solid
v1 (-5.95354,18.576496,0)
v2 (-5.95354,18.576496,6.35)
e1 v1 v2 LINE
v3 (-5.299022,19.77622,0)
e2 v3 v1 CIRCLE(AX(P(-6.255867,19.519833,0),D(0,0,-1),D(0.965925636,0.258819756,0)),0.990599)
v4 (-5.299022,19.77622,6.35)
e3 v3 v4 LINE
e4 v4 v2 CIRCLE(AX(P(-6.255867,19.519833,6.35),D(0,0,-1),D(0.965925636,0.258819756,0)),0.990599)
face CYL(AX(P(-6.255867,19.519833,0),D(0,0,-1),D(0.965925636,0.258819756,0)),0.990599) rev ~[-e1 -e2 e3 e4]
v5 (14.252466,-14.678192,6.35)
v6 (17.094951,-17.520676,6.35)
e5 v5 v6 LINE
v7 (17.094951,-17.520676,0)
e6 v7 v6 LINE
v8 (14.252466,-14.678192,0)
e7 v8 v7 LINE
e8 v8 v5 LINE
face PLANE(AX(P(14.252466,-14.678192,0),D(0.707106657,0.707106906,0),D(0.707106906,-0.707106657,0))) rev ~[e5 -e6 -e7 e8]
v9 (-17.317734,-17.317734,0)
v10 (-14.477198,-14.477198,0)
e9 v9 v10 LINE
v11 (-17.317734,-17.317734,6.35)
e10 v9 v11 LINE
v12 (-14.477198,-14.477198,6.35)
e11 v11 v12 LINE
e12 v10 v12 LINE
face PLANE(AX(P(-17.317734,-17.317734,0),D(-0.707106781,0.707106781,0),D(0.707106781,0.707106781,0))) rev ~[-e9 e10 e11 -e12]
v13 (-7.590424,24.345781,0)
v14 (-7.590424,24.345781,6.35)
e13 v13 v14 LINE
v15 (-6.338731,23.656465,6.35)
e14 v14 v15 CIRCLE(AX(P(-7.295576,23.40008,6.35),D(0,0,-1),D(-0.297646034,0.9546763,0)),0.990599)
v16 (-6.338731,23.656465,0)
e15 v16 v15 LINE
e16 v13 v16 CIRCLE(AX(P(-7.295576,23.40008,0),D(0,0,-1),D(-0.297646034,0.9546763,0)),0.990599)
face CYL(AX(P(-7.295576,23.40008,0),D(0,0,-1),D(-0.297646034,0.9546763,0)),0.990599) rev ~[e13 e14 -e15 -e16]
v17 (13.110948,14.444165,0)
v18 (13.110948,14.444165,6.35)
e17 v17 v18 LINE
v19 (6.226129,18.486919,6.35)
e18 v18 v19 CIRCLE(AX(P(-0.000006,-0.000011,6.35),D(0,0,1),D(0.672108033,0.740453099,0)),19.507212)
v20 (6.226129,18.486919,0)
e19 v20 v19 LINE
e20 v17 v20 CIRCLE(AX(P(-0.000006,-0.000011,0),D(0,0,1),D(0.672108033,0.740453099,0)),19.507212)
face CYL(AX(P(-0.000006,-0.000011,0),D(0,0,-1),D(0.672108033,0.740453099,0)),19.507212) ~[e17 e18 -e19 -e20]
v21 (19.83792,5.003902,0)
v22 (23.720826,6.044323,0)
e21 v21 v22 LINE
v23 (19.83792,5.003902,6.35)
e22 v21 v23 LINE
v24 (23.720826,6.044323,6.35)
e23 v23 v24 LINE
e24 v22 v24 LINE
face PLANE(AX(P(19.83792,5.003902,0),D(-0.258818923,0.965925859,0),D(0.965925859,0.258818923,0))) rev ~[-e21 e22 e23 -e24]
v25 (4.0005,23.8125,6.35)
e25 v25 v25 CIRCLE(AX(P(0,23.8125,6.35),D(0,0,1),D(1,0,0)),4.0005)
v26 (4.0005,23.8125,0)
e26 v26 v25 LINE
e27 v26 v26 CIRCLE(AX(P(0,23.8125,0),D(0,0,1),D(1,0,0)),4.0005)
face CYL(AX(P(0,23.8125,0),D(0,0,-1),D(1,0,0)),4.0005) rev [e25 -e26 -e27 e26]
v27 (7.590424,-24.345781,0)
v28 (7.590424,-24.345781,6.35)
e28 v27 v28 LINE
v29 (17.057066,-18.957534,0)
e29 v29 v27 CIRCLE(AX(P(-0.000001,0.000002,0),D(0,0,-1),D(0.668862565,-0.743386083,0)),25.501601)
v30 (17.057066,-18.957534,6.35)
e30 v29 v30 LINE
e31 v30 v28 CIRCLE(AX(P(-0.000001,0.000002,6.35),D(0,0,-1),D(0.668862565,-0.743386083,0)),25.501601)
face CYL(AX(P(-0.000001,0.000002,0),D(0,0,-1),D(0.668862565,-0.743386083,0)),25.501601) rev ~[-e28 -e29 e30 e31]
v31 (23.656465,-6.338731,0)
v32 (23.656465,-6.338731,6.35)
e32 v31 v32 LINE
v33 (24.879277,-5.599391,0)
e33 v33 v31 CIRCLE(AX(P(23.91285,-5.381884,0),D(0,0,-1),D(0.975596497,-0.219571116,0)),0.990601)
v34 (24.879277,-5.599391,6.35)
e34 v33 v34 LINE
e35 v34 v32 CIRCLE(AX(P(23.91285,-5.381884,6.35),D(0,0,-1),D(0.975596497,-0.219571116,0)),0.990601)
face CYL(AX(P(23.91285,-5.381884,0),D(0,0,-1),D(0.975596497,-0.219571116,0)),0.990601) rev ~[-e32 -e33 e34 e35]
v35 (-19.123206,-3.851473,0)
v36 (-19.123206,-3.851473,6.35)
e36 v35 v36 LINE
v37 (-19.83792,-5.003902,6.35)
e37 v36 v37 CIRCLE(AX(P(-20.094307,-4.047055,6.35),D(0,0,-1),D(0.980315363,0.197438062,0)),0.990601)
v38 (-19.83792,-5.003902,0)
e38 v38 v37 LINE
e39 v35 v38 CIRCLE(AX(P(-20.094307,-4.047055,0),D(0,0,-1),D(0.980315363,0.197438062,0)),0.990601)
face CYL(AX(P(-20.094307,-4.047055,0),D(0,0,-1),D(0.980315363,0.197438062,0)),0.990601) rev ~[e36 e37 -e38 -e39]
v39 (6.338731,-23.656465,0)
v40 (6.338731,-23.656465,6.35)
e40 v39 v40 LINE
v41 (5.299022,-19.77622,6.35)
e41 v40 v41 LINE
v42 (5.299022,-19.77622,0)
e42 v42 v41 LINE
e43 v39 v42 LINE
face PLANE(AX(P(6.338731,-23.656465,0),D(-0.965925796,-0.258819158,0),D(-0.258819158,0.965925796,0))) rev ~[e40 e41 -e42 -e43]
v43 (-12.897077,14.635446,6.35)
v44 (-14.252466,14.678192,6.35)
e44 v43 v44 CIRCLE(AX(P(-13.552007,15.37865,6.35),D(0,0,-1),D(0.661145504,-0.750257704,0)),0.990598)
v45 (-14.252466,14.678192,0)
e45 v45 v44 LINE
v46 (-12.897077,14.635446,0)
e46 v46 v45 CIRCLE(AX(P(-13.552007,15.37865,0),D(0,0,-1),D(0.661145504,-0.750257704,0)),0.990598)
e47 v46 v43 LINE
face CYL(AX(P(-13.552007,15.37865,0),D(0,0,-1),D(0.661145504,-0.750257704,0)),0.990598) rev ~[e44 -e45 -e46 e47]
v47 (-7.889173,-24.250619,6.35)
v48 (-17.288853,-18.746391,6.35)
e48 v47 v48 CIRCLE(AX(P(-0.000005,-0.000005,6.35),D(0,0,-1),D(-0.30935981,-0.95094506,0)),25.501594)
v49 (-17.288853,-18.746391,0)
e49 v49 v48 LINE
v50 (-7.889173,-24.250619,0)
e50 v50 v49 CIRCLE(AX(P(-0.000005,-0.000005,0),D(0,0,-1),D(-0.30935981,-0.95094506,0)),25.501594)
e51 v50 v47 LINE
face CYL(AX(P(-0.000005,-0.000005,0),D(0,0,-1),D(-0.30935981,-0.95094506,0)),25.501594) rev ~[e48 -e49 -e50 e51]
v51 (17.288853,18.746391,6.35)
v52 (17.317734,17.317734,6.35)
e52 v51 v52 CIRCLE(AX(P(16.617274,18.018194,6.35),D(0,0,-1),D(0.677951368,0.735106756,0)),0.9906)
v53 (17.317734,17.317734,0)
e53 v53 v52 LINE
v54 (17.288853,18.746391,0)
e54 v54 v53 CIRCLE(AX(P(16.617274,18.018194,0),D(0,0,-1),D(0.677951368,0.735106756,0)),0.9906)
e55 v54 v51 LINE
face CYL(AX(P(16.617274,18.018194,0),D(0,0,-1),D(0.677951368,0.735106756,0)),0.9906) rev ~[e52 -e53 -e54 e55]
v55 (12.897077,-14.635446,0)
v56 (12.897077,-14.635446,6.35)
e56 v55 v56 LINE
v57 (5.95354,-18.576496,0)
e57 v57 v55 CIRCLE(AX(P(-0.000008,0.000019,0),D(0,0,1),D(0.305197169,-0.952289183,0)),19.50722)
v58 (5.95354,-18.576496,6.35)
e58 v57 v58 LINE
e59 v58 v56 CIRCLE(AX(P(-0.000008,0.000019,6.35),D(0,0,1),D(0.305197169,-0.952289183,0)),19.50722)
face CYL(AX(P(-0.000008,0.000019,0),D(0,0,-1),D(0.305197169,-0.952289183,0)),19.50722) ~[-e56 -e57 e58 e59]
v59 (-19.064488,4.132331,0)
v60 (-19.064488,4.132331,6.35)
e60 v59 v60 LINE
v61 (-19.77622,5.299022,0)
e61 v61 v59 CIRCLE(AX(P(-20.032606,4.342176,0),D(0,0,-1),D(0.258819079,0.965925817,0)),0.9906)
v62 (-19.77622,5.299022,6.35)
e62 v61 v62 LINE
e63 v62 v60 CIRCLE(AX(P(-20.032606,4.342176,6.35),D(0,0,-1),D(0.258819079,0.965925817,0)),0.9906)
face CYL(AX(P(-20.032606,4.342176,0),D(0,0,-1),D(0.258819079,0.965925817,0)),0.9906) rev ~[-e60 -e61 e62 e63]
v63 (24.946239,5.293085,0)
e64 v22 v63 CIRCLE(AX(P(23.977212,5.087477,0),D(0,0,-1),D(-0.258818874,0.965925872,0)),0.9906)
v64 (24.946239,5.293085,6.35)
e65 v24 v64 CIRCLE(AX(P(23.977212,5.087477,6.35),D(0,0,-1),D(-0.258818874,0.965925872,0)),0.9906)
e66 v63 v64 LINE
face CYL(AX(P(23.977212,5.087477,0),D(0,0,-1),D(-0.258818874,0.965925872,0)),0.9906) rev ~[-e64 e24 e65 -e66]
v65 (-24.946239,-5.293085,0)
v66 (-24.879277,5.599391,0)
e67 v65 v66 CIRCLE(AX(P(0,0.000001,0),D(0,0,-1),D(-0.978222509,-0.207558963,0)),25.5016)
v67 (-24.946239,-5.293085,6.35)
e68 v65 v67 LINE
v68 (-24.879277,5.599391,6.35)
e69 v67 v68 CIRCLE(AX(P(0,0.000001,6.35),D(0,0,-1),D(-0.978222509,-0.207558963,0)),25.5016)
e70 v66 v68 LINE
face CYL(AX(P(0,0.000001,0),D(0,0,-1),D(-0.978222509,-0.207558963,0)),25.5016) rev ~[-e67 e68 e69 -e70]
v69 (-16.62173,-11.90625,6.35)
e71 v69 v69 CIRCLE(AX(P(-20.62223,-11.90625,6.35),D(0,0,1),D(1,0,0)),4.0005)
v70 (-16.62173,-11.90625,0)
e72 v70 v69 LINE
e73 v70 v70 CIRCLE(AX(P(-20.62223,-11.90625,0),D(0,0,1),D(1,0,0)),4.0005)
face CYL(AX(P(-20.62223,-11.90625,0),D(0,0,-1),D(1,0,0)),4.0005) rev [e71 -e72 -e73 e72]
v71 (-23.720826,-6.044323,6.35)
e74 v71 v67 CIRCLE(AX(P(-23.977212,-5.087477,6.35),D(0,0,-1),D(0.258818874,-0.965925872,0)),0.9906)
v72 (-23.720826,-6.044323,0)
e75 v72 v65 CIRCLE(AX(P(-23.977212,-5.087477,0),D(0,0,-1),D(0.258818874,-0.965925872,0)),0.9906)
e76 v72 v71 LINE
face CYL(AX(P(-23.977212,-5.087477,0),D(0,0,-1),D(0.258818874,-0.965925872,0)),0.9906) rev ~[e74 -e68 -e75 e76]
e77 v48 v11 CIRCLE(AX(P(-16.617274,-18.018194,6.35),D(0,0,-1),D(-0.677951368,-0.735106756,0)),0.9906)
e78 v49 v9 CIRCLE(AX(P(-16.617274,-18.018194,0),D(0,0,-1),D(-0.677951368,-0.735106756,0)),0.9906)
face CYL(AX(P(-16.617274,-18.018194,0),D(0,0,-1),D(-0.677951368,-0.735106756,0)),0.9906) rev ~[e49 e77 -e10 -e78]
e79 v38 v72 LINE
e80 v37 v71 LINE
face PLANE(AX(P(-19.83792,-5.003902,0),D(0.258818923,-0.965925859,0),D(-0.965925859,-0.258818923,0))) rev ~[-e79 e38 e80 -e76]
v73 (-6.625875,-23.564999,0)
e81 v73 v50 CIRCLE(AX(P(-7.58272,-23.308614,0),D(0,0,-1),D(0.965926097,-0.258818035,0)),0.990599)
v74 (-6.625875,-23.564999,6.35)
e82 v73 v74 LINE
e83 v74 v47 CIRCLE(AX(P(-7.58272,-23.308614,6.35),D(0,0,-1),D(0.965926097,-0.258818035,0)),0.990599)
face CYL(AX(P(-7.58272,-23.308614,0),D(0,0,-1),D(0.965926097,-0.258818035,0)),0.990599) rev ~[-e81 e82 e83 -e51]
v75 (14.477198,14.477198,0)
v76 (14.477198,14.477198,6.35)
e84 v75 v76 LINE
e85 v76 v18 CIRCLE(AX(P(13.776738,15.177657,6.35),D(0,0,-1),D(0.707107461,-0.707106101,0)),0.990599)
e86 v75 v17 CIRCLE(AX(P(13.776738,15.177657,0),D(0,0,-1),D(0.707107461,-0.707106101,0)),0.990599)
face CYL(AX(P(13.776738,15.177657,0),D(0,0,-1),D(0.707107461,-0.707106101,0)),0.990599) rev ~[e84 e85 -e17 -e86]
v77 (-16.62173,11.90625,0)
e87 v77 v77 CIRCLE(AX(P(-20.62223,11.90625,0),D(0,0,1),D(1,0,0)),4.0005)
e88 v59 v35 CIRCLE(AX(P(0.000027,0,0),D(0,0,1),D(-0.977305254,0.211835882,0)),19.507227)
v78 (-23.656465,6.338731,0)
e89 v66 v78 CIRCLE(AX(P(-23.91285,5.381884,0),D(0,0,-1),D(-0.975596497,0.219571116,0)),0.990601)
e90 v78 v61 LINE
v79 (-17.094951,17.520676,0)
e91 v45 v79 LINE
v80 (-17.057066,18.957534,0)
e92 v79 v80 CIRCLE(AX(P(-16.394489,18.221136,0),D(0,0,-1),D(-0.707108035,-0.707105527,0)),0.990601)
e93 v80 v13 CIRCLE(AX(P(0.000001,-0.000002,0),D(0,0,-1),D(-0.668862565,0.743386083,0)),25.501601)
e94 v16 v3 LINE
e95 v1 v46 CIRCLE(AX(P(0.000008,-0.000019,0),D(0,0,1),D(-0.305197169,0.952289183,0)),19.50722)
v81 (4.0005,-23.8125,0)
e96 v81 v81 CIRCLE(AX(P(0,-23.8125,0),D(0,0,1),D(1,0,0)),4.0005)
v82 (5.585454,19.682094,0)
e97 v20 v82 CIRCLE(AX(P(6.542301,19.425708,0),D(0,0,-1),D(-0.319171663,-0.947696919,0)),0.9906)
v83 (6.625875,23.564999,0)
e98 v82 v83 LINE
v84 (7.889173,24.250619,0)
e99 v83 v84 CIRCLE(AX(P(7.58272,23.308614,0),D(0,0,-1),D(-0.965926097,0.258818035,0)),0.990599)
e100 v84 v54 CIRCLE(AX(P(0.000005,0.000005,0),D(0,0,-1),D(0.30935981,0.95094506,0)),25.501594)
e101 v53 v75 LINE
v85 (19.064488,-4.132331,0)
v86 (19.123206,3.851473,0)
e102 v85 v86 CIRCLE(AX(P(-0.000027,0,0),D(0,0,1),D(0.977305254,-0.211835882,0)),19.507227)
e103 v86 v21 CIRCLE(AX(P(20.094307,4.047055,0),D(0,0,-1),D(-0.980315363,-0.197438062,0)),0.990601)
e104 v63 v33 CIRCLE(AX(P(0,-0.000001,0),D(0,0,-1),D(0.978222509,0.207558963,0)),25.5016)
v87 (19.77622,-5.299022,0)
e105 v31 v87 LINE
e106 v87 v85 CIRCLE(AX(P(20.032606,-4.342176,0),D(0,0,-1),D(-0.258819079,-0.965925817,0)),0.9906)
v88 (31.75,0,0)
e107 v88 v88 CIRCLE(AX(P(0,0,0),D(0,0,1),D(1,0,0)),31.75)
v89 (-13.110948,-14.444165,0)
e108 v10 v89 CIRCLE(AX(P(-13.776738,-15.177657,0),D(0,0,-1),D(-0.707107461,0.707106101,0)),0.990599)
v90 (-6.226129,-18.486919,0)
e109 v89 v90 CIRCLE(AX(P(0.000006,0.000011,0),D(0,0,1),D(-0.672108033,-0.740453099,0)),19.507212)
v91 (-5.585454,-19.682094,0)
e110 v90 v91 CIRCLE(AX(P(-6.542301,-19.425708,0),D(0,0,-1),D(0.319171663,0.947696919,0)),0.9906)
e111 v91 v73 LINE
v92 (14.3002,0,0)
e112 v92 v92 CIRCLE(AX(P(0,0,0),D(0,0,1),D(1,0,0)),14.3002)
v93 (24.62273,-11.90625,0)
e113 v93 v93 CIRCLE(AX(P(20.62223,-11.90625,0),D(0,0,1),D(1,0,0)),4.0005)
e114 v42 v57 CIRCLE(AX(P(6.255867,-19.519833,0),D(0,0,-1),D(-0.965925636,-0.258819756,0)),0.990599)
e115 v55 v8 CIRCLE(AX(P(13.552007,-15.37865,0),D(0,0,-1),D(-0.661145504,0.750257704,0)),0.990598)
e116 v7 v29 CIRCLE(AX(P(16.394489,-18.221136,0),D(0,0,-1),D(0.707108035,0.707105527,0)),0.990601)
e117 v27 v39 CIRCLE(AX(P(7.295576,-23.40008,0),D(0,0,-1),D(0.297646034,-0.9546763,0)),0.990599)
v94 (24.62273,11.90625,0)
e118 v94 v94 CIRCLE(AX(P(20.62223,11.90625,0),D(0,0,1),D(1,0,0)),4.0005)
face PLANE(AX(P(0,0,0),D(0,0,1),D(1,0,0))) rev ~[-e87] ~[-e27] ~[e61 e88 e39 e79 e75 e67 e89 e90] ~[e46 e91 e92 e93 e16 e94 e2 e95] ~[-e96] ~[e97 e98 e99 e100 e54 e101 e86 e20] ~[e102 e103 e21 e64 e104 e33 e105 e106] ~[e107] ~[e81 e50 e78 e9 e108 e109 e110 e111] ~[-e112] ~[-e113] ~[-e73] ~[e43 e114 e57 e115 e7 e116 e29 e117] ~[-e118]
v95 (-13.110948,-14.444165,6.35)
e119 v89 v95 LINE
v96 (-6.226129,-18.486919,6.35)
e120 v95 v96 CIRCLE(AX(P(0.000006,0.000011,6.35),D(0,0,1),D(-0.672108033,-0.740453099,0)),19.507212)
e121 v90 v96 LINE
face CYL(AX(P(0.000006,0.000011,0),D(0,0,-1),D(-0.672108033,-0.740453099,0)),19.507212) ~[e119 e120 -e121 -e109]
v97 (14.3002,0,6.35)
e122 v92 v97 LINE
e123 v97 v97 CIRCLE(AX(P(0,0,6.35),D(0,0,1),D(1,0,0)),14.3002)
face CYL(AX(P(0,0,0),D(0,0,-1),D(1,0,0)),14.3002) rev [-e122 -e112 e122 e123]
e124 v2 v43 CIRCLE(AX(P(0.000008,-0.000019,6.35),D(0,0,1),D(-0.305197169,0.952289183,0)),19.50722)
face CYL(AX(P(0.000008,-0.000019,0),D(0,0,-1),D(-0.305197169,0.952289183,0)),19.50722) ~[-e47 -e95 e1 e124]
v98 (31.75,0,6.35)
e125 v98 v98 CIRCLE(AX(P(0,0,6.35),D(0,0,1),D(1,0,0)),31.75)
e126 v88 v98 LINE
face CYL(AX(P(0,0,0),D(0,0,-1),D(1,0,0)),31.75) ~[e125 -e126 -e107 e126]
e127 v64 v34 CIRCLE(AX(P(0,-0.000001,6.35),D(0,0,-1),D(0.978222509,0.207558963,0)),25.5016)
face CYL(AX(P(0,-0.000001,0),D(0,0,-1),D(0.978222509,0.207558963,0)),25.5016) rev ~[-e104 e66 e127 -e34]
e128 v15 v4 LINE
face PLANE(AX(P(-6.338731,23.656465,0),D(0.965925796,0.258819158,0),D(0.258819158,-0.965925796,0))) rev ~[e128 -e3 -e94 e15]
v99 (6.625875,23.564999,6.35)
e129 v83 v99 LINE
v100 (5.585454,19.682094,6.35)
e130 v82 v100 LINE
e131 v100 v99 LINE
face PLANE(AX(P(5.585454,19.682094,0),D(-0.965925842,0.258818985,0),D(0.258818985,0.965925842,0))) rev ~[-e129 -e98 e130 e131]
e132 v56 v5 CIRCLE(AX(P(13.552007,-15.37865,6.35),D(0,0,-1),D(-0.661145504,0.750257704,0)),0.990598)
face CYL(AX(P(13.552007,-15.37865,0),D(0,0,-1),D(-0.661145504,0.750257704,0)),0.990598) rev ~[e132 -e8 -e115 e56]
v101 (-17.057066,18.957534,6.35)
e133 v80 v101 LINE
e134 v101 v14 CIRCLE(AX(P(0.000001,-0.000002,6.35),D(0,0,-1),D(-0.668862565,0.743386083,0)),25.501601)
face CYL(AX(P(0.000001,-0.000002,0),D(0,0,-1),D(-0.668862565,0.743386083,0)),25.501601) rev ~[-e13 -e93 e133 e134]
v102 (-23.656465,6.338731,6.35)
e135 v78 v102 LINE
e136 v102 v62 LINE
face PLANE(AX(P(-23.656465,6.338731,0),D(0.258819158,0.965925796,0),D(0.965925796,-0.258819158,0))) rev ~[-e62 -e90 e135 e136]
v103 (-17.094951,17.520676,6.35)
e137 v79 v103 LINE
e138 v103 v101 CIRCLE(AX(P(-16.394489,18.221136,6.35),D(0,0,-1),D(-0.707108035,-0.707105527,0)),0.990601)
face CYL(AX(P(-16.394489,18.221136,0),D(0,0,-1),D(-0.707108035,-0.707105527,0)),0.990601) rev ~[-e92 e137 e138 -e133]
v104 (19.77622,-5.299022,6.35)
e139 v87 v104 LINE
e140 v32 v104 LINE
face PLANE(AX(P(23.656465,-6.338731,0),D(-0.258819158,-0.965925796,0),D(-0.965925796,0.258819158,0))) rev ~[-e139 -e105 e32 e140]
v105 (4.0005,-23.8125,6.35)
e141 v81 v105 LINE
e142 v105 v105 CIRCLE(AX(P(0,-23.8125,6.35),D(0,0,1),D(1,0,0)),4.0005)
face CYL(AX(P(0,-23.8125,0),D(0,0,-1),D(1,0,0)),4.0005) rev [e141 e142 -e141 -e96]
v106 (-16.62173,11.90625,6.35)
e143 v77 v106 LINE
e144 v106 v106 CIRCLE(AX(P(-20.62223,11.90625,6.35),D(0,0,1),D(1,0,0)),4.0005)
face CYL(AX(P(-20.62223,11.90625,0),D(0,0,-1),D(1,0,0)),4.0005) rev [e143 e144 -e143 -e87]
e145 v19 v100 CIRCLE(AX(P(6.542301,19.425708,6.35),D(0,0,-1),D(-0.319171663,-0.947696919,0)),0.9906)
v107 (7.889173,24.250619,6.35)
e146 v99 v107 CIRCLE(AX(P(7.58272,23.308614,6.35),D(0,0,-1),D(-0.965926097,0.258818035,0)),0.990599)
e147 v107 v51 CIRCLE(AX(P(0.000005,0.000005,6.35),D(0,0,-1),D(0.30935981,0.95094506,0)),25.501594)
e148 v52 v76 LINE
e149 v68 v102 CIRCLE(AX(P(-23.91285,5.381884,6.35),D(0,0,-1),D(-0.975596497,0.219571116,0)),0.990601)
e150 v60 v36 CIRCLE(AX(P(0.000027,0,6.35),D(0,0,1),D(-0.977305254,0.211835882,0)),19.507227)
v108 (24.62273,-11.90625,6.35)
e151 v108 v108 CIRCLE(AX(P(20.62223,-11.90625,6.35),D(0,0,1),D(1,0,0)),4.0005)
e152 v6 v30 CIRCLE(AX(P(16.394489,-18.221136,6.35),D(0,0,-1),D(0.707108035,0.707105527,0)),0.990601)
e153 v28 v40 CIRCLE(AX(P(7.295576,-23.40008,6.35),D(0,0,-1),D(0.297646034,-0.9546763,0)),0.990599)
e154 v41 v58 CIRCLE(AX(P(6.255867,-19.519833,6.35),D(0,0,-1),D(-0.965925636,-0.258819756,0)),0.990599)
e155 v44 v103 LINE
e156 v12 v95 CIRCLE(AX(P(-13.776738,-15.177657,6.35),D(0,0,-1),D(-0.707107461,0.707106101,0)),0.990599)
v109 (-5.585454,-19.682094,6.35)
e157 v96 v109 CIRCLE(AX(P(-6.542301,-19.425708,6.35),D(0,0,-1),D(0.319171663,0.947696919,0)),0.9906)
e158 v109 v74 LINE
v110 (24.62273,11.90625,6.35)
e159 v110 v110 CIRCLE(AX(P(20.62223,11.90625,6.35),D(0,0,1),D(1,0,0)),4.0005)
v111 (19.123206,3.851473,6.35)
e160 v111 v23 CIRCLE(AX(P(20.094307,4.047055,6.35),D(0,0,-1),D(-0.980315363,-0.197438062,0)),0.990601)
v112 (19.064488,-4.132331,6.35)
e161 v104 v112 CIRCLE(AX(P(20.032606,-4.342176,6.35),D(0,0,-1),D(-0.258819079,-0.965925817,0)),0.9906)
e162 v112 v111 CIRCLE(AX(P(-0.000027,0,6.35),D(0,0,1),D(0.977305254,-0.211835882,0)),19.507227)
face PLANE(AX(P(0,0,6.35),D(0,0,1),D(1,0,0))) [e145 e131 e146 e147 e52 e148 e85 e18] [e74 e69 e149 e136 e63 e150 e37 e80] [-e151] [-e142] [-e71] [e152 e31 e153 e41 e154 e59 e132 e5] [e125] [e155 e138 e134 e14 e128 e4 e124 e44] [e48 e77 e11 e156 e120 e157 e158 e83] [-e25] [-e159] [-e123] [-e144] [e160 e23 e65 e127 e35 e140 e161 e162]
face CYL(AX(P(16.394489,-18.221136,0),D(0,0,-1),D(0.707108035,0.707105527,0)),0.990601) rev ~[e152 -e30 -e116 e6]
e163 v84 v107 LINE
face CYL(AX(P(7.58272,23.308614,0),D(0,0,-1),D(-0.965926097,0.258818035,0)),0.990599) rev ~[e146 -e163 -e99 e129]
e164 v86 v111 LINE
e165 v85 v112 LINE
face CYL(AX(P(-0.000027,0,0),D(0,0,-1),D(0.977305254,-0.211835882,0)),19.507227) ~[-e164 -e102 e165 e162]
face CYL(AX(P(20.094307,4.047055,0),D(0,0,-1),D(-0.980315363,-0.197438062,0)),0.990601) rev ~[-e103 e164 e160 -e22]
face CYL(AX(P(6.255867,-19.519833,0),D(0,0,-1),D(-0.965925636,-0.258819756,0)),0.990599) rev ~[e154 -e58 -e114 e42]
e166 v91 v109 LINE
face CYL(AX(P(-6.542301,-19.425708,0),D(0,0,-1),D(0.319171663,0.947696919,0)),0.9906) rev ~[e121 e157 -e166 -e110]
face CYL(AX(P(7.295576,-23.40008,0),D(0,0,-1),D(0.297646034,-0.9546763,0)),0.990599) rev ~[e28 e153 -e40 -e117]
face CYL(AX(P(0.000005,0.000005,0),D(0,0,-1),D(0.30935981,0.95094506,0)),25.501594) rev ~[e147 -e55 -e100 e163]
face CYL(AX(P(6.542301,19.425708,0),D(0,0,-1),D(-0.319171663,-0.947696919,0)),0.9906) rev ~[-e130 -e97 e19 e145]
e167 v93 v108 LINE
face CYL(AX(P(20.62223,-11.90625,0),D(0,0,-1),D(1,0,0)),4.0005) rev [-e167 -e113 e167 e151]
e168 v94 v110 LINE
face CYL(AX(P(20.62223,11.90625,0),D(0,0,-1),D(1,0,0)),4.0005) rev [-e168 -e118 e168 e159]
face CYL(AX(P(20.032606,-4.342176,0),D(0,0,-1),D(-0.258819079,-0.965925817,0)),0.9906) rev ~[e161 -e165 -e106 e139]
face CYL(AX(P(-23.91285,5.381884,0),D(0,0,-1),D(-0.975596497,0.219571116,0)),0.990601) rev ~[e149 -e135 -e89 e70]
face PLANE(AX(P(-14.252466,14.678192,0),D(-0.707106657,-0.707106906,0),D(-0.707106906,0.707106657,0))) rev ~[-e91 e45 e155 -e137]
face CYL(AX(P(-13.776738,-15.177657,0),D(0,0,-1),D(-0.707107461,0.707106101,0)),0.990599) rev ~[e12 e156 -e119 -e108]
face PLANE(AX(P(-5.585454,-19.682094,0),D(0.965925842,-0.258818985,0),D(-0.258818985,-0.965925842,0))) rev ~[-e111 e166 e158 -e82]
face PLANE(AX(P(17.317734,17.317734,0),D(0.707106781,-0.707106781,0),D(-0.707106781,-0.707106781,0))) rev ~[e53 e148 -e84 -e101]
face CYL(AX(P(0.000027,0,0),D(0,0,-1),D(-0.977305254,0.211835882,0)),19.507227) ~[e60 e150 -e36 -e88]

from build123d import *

# Parameters (mm, degrees)
F0_R     = 31.75
F0_R_2   = 4.0005
F0_R_3   = 14.3002
F1_DEPTH = 6.35


with BuildPart() as f1:
    # F0 (on Top) → F1 (new body)
    with BuildSketch(Plane.XY):
        Circle(F0_R)
        with BuildLine():
            ThreePointArc((-6.226129, -18.486919), (-5.669229, -18.957696), (-5.585454, -19.682094))
            Line((-5.585454, -19.682094), (-6.625875, -23.564999))
            ThreePointArc((-6.625875, -23.564999), (-7.110205, -24.179255), (-7.889173, -24.250619))
            ThreePointArc((-7.889173, -24.250619), (-12.886326, -22.006231), (-17.288853, -18.746391))
            ThreePointArc((-17.288853, -18.746391), (-17.607672, -18.038216), (-17.317734, -17.317734))
            Line((-17.317734, -17.317734), (-14.477198, -14.477198))
            ThreePointArc((-14.477198, -14.477198), (-13.800681, -14.187347), (-13.110948, -14.444165))
            ThreePointArc((-13.110948, -14.444165), (-9.877581, -16.821541), (-6.226129, -18.486919))
        make_face(mode=Mode.SUBTRACT)
        with Locations((-20.62223, -11.90625)):
            Circle(F0_R_2, mode=Mode.SUBTRACT)
        with Locations((0, -23.8125)):
            Circle(F0_R_2, mode=Mode.SUBTRACT)
        with BuildLine():
            ThreePointArc((12.897077, -14.635446), (13.583232, -14.388544), (14.252466, -14.678192))
            Line((14.252466, -14.678192), (17.094951, -17.520676))
            ThreePointArc((17.094951, -17.520676), (17.384746, -18.247246), (17.057066, -18.957534))
            ThreePointArc((17.057066, -18.957534), (12.614792, -22.163001), (7.590424, -24.345781))
            ThreePointArc((7.590424, -24.345781), (6.817717, -24.267799), (6.338731, -23.656465))
            Line((6.338731, -23.656465), (5.299022, -19.77622))
            ThreePointArc((5.299022, -19.77622), (5.386262, -19.045414), (5.95354, -18.576496))
            ThreePointArc((5.95354, -18.576496), (9.629092, -16.965006), (12.897077, -14.635446))
        make_face(mode=Mode.SUBTRACT)
        with Locations((20.62223, -11.90625)):
            Circle(F0_R_2, mode=Mode.SUBTRACT)
        with BuildLine():
            ThreePointArc((19.123206, 3.851473), (19.252461, 4.569152), (19.83792, 5.003902))
            Line((19.83792, 5.003902), (23.720826, 6.044323))
            ThreePointArc((23.720826, 6.044323), (24.494951, 5.932009), (24.946239, 5.293085))
            ThreePointArc((24.946239, 5.293085), (25.501118, -0.15677), (24.879277, -5.599391))
            ThreePointArc((24.879277, -5.599391), (24.425389, -6.229583), (23.656465, -6.338731))
            Line((23.656465, -6.338731), (19.77622, -5.299022))
            ThreePointArc((19.77622, -5.299022), (19.186944, -4.858067), (19.064488, -4.132331))
            ThreePointArc((19.064488, -4.132331), (19.506672, -0.143465), (19.123206, 3.851473))
        make_face(mode=Mode.SUBTRACT)
        with BuildLine():
            ThreePointArc((-19.123206, -3.851473), (-19.252461, -4.569152), (-19.83792, -5.003902))
            Line((-19.83792, -5.003902), (-23.720826, -6.044323))
            ThreePointArc((-23.720826, -6.044323), (-24.494951, -5.932009), (-24.946239, -5.293085))
            ThreePointArc((-24.946239, -5.293085), (-25.501118, 0.15677), (-24.879277, 5.599391))
            ThreePointArc((-24.879277, 5.599391), (-24.425389, 6.229583), (-23.656465, 6.338731))
            Line((-23.656465, 6.338731), (-19.77622, 5.299022))
            ThreePointArc((-19.77622, 5.299022), (-19.186944, 4.858067), (-19.064488, 4.132331))
            ThreePointArc((-19.064488, 4.132331), (-19.506672, 0.143465), (-19.123206, -3.851473))
        make_face(mode=Mode.SUBTRACT)
        with Locations((-20.62223, 11.90625)):
            Circle(F0_R_2, mode=Mode.SUBTRACT)
        with BuildLine():
            ThreePointArc((-12.897077, 14.635446), (-13.583232, 14.388544), (-14.252466, 14.678192))
            Line((-14.252466, 14.678192), (-17.094951, 17.520676))
            ThreePointArc((-17.094951, 17.520676), (-17.384746, 18.247246), (-17.057066, 18.957534))
            ThreePointArc((-17.057066, 18.957534), (-12.614792, 22.163001), (-7.590424, 24.345781))
            ThreePointArc((-7.590424, 24.345781), (-6.817717, 24.267799), (-6.338731, 23.656465))
            Line((-6.338731, 23.656465), (-5.299022, 19.77622))
            ThreePointArc((-5.299022, 19.77622), (-5.386262, 19.045414), (-5.95354, 18.576496))
            ThreePointArc((-5.95354, 18.576496), (-9.629092, 16.965006), (-12.897077, 14.635446))
        make_face(mode=Mode.SUBTRACT)
        Circle(F0_R_3, mode=Mode.SUBTRACT)
        with Locations((20.62223, 11.90625)):
            Circle(F0_R_2, mode=Mode.SUBTRACT)
        with BuildLine():
            Line((17.317734, 17.317734), (14.477198, 14.477198))
            ThreePointArc((14.477198, 14.477198), (13.800681, 14.187347), (13.110948, 14.444165))
            ThreePointArc((13.110948, 14.444165), (9.877581, 16.821541), (6.226129, 18.486919))
            ThreePointArc((6.226129, 18.486919), (5.669229, 18.957696), (5.585454, 19.682094))
            Line((5.585454, 19.682094), (6.625875, 23.564999))
            ThreePointArc((6.625875, 23.564999), (7.110205, 24.179255), (7.889173, 24.250619))
            ThreePointArc((7.889173, 24.250619), (12.886326, 22.006231), (17.288853, 18.746391))
            ThreePointArc((17.288853, 18.746391), (17.607672, 18.038216), (17.317734, 17.317734))
        make_face(mode=Mode.SUBTRACT)
        with Locations((0, 23.8125)):
            Circle(F0_R_2, mode=Mode.SUBTRACT)
    extrude(amount=F1_DEPTH)


solid = f1.part
